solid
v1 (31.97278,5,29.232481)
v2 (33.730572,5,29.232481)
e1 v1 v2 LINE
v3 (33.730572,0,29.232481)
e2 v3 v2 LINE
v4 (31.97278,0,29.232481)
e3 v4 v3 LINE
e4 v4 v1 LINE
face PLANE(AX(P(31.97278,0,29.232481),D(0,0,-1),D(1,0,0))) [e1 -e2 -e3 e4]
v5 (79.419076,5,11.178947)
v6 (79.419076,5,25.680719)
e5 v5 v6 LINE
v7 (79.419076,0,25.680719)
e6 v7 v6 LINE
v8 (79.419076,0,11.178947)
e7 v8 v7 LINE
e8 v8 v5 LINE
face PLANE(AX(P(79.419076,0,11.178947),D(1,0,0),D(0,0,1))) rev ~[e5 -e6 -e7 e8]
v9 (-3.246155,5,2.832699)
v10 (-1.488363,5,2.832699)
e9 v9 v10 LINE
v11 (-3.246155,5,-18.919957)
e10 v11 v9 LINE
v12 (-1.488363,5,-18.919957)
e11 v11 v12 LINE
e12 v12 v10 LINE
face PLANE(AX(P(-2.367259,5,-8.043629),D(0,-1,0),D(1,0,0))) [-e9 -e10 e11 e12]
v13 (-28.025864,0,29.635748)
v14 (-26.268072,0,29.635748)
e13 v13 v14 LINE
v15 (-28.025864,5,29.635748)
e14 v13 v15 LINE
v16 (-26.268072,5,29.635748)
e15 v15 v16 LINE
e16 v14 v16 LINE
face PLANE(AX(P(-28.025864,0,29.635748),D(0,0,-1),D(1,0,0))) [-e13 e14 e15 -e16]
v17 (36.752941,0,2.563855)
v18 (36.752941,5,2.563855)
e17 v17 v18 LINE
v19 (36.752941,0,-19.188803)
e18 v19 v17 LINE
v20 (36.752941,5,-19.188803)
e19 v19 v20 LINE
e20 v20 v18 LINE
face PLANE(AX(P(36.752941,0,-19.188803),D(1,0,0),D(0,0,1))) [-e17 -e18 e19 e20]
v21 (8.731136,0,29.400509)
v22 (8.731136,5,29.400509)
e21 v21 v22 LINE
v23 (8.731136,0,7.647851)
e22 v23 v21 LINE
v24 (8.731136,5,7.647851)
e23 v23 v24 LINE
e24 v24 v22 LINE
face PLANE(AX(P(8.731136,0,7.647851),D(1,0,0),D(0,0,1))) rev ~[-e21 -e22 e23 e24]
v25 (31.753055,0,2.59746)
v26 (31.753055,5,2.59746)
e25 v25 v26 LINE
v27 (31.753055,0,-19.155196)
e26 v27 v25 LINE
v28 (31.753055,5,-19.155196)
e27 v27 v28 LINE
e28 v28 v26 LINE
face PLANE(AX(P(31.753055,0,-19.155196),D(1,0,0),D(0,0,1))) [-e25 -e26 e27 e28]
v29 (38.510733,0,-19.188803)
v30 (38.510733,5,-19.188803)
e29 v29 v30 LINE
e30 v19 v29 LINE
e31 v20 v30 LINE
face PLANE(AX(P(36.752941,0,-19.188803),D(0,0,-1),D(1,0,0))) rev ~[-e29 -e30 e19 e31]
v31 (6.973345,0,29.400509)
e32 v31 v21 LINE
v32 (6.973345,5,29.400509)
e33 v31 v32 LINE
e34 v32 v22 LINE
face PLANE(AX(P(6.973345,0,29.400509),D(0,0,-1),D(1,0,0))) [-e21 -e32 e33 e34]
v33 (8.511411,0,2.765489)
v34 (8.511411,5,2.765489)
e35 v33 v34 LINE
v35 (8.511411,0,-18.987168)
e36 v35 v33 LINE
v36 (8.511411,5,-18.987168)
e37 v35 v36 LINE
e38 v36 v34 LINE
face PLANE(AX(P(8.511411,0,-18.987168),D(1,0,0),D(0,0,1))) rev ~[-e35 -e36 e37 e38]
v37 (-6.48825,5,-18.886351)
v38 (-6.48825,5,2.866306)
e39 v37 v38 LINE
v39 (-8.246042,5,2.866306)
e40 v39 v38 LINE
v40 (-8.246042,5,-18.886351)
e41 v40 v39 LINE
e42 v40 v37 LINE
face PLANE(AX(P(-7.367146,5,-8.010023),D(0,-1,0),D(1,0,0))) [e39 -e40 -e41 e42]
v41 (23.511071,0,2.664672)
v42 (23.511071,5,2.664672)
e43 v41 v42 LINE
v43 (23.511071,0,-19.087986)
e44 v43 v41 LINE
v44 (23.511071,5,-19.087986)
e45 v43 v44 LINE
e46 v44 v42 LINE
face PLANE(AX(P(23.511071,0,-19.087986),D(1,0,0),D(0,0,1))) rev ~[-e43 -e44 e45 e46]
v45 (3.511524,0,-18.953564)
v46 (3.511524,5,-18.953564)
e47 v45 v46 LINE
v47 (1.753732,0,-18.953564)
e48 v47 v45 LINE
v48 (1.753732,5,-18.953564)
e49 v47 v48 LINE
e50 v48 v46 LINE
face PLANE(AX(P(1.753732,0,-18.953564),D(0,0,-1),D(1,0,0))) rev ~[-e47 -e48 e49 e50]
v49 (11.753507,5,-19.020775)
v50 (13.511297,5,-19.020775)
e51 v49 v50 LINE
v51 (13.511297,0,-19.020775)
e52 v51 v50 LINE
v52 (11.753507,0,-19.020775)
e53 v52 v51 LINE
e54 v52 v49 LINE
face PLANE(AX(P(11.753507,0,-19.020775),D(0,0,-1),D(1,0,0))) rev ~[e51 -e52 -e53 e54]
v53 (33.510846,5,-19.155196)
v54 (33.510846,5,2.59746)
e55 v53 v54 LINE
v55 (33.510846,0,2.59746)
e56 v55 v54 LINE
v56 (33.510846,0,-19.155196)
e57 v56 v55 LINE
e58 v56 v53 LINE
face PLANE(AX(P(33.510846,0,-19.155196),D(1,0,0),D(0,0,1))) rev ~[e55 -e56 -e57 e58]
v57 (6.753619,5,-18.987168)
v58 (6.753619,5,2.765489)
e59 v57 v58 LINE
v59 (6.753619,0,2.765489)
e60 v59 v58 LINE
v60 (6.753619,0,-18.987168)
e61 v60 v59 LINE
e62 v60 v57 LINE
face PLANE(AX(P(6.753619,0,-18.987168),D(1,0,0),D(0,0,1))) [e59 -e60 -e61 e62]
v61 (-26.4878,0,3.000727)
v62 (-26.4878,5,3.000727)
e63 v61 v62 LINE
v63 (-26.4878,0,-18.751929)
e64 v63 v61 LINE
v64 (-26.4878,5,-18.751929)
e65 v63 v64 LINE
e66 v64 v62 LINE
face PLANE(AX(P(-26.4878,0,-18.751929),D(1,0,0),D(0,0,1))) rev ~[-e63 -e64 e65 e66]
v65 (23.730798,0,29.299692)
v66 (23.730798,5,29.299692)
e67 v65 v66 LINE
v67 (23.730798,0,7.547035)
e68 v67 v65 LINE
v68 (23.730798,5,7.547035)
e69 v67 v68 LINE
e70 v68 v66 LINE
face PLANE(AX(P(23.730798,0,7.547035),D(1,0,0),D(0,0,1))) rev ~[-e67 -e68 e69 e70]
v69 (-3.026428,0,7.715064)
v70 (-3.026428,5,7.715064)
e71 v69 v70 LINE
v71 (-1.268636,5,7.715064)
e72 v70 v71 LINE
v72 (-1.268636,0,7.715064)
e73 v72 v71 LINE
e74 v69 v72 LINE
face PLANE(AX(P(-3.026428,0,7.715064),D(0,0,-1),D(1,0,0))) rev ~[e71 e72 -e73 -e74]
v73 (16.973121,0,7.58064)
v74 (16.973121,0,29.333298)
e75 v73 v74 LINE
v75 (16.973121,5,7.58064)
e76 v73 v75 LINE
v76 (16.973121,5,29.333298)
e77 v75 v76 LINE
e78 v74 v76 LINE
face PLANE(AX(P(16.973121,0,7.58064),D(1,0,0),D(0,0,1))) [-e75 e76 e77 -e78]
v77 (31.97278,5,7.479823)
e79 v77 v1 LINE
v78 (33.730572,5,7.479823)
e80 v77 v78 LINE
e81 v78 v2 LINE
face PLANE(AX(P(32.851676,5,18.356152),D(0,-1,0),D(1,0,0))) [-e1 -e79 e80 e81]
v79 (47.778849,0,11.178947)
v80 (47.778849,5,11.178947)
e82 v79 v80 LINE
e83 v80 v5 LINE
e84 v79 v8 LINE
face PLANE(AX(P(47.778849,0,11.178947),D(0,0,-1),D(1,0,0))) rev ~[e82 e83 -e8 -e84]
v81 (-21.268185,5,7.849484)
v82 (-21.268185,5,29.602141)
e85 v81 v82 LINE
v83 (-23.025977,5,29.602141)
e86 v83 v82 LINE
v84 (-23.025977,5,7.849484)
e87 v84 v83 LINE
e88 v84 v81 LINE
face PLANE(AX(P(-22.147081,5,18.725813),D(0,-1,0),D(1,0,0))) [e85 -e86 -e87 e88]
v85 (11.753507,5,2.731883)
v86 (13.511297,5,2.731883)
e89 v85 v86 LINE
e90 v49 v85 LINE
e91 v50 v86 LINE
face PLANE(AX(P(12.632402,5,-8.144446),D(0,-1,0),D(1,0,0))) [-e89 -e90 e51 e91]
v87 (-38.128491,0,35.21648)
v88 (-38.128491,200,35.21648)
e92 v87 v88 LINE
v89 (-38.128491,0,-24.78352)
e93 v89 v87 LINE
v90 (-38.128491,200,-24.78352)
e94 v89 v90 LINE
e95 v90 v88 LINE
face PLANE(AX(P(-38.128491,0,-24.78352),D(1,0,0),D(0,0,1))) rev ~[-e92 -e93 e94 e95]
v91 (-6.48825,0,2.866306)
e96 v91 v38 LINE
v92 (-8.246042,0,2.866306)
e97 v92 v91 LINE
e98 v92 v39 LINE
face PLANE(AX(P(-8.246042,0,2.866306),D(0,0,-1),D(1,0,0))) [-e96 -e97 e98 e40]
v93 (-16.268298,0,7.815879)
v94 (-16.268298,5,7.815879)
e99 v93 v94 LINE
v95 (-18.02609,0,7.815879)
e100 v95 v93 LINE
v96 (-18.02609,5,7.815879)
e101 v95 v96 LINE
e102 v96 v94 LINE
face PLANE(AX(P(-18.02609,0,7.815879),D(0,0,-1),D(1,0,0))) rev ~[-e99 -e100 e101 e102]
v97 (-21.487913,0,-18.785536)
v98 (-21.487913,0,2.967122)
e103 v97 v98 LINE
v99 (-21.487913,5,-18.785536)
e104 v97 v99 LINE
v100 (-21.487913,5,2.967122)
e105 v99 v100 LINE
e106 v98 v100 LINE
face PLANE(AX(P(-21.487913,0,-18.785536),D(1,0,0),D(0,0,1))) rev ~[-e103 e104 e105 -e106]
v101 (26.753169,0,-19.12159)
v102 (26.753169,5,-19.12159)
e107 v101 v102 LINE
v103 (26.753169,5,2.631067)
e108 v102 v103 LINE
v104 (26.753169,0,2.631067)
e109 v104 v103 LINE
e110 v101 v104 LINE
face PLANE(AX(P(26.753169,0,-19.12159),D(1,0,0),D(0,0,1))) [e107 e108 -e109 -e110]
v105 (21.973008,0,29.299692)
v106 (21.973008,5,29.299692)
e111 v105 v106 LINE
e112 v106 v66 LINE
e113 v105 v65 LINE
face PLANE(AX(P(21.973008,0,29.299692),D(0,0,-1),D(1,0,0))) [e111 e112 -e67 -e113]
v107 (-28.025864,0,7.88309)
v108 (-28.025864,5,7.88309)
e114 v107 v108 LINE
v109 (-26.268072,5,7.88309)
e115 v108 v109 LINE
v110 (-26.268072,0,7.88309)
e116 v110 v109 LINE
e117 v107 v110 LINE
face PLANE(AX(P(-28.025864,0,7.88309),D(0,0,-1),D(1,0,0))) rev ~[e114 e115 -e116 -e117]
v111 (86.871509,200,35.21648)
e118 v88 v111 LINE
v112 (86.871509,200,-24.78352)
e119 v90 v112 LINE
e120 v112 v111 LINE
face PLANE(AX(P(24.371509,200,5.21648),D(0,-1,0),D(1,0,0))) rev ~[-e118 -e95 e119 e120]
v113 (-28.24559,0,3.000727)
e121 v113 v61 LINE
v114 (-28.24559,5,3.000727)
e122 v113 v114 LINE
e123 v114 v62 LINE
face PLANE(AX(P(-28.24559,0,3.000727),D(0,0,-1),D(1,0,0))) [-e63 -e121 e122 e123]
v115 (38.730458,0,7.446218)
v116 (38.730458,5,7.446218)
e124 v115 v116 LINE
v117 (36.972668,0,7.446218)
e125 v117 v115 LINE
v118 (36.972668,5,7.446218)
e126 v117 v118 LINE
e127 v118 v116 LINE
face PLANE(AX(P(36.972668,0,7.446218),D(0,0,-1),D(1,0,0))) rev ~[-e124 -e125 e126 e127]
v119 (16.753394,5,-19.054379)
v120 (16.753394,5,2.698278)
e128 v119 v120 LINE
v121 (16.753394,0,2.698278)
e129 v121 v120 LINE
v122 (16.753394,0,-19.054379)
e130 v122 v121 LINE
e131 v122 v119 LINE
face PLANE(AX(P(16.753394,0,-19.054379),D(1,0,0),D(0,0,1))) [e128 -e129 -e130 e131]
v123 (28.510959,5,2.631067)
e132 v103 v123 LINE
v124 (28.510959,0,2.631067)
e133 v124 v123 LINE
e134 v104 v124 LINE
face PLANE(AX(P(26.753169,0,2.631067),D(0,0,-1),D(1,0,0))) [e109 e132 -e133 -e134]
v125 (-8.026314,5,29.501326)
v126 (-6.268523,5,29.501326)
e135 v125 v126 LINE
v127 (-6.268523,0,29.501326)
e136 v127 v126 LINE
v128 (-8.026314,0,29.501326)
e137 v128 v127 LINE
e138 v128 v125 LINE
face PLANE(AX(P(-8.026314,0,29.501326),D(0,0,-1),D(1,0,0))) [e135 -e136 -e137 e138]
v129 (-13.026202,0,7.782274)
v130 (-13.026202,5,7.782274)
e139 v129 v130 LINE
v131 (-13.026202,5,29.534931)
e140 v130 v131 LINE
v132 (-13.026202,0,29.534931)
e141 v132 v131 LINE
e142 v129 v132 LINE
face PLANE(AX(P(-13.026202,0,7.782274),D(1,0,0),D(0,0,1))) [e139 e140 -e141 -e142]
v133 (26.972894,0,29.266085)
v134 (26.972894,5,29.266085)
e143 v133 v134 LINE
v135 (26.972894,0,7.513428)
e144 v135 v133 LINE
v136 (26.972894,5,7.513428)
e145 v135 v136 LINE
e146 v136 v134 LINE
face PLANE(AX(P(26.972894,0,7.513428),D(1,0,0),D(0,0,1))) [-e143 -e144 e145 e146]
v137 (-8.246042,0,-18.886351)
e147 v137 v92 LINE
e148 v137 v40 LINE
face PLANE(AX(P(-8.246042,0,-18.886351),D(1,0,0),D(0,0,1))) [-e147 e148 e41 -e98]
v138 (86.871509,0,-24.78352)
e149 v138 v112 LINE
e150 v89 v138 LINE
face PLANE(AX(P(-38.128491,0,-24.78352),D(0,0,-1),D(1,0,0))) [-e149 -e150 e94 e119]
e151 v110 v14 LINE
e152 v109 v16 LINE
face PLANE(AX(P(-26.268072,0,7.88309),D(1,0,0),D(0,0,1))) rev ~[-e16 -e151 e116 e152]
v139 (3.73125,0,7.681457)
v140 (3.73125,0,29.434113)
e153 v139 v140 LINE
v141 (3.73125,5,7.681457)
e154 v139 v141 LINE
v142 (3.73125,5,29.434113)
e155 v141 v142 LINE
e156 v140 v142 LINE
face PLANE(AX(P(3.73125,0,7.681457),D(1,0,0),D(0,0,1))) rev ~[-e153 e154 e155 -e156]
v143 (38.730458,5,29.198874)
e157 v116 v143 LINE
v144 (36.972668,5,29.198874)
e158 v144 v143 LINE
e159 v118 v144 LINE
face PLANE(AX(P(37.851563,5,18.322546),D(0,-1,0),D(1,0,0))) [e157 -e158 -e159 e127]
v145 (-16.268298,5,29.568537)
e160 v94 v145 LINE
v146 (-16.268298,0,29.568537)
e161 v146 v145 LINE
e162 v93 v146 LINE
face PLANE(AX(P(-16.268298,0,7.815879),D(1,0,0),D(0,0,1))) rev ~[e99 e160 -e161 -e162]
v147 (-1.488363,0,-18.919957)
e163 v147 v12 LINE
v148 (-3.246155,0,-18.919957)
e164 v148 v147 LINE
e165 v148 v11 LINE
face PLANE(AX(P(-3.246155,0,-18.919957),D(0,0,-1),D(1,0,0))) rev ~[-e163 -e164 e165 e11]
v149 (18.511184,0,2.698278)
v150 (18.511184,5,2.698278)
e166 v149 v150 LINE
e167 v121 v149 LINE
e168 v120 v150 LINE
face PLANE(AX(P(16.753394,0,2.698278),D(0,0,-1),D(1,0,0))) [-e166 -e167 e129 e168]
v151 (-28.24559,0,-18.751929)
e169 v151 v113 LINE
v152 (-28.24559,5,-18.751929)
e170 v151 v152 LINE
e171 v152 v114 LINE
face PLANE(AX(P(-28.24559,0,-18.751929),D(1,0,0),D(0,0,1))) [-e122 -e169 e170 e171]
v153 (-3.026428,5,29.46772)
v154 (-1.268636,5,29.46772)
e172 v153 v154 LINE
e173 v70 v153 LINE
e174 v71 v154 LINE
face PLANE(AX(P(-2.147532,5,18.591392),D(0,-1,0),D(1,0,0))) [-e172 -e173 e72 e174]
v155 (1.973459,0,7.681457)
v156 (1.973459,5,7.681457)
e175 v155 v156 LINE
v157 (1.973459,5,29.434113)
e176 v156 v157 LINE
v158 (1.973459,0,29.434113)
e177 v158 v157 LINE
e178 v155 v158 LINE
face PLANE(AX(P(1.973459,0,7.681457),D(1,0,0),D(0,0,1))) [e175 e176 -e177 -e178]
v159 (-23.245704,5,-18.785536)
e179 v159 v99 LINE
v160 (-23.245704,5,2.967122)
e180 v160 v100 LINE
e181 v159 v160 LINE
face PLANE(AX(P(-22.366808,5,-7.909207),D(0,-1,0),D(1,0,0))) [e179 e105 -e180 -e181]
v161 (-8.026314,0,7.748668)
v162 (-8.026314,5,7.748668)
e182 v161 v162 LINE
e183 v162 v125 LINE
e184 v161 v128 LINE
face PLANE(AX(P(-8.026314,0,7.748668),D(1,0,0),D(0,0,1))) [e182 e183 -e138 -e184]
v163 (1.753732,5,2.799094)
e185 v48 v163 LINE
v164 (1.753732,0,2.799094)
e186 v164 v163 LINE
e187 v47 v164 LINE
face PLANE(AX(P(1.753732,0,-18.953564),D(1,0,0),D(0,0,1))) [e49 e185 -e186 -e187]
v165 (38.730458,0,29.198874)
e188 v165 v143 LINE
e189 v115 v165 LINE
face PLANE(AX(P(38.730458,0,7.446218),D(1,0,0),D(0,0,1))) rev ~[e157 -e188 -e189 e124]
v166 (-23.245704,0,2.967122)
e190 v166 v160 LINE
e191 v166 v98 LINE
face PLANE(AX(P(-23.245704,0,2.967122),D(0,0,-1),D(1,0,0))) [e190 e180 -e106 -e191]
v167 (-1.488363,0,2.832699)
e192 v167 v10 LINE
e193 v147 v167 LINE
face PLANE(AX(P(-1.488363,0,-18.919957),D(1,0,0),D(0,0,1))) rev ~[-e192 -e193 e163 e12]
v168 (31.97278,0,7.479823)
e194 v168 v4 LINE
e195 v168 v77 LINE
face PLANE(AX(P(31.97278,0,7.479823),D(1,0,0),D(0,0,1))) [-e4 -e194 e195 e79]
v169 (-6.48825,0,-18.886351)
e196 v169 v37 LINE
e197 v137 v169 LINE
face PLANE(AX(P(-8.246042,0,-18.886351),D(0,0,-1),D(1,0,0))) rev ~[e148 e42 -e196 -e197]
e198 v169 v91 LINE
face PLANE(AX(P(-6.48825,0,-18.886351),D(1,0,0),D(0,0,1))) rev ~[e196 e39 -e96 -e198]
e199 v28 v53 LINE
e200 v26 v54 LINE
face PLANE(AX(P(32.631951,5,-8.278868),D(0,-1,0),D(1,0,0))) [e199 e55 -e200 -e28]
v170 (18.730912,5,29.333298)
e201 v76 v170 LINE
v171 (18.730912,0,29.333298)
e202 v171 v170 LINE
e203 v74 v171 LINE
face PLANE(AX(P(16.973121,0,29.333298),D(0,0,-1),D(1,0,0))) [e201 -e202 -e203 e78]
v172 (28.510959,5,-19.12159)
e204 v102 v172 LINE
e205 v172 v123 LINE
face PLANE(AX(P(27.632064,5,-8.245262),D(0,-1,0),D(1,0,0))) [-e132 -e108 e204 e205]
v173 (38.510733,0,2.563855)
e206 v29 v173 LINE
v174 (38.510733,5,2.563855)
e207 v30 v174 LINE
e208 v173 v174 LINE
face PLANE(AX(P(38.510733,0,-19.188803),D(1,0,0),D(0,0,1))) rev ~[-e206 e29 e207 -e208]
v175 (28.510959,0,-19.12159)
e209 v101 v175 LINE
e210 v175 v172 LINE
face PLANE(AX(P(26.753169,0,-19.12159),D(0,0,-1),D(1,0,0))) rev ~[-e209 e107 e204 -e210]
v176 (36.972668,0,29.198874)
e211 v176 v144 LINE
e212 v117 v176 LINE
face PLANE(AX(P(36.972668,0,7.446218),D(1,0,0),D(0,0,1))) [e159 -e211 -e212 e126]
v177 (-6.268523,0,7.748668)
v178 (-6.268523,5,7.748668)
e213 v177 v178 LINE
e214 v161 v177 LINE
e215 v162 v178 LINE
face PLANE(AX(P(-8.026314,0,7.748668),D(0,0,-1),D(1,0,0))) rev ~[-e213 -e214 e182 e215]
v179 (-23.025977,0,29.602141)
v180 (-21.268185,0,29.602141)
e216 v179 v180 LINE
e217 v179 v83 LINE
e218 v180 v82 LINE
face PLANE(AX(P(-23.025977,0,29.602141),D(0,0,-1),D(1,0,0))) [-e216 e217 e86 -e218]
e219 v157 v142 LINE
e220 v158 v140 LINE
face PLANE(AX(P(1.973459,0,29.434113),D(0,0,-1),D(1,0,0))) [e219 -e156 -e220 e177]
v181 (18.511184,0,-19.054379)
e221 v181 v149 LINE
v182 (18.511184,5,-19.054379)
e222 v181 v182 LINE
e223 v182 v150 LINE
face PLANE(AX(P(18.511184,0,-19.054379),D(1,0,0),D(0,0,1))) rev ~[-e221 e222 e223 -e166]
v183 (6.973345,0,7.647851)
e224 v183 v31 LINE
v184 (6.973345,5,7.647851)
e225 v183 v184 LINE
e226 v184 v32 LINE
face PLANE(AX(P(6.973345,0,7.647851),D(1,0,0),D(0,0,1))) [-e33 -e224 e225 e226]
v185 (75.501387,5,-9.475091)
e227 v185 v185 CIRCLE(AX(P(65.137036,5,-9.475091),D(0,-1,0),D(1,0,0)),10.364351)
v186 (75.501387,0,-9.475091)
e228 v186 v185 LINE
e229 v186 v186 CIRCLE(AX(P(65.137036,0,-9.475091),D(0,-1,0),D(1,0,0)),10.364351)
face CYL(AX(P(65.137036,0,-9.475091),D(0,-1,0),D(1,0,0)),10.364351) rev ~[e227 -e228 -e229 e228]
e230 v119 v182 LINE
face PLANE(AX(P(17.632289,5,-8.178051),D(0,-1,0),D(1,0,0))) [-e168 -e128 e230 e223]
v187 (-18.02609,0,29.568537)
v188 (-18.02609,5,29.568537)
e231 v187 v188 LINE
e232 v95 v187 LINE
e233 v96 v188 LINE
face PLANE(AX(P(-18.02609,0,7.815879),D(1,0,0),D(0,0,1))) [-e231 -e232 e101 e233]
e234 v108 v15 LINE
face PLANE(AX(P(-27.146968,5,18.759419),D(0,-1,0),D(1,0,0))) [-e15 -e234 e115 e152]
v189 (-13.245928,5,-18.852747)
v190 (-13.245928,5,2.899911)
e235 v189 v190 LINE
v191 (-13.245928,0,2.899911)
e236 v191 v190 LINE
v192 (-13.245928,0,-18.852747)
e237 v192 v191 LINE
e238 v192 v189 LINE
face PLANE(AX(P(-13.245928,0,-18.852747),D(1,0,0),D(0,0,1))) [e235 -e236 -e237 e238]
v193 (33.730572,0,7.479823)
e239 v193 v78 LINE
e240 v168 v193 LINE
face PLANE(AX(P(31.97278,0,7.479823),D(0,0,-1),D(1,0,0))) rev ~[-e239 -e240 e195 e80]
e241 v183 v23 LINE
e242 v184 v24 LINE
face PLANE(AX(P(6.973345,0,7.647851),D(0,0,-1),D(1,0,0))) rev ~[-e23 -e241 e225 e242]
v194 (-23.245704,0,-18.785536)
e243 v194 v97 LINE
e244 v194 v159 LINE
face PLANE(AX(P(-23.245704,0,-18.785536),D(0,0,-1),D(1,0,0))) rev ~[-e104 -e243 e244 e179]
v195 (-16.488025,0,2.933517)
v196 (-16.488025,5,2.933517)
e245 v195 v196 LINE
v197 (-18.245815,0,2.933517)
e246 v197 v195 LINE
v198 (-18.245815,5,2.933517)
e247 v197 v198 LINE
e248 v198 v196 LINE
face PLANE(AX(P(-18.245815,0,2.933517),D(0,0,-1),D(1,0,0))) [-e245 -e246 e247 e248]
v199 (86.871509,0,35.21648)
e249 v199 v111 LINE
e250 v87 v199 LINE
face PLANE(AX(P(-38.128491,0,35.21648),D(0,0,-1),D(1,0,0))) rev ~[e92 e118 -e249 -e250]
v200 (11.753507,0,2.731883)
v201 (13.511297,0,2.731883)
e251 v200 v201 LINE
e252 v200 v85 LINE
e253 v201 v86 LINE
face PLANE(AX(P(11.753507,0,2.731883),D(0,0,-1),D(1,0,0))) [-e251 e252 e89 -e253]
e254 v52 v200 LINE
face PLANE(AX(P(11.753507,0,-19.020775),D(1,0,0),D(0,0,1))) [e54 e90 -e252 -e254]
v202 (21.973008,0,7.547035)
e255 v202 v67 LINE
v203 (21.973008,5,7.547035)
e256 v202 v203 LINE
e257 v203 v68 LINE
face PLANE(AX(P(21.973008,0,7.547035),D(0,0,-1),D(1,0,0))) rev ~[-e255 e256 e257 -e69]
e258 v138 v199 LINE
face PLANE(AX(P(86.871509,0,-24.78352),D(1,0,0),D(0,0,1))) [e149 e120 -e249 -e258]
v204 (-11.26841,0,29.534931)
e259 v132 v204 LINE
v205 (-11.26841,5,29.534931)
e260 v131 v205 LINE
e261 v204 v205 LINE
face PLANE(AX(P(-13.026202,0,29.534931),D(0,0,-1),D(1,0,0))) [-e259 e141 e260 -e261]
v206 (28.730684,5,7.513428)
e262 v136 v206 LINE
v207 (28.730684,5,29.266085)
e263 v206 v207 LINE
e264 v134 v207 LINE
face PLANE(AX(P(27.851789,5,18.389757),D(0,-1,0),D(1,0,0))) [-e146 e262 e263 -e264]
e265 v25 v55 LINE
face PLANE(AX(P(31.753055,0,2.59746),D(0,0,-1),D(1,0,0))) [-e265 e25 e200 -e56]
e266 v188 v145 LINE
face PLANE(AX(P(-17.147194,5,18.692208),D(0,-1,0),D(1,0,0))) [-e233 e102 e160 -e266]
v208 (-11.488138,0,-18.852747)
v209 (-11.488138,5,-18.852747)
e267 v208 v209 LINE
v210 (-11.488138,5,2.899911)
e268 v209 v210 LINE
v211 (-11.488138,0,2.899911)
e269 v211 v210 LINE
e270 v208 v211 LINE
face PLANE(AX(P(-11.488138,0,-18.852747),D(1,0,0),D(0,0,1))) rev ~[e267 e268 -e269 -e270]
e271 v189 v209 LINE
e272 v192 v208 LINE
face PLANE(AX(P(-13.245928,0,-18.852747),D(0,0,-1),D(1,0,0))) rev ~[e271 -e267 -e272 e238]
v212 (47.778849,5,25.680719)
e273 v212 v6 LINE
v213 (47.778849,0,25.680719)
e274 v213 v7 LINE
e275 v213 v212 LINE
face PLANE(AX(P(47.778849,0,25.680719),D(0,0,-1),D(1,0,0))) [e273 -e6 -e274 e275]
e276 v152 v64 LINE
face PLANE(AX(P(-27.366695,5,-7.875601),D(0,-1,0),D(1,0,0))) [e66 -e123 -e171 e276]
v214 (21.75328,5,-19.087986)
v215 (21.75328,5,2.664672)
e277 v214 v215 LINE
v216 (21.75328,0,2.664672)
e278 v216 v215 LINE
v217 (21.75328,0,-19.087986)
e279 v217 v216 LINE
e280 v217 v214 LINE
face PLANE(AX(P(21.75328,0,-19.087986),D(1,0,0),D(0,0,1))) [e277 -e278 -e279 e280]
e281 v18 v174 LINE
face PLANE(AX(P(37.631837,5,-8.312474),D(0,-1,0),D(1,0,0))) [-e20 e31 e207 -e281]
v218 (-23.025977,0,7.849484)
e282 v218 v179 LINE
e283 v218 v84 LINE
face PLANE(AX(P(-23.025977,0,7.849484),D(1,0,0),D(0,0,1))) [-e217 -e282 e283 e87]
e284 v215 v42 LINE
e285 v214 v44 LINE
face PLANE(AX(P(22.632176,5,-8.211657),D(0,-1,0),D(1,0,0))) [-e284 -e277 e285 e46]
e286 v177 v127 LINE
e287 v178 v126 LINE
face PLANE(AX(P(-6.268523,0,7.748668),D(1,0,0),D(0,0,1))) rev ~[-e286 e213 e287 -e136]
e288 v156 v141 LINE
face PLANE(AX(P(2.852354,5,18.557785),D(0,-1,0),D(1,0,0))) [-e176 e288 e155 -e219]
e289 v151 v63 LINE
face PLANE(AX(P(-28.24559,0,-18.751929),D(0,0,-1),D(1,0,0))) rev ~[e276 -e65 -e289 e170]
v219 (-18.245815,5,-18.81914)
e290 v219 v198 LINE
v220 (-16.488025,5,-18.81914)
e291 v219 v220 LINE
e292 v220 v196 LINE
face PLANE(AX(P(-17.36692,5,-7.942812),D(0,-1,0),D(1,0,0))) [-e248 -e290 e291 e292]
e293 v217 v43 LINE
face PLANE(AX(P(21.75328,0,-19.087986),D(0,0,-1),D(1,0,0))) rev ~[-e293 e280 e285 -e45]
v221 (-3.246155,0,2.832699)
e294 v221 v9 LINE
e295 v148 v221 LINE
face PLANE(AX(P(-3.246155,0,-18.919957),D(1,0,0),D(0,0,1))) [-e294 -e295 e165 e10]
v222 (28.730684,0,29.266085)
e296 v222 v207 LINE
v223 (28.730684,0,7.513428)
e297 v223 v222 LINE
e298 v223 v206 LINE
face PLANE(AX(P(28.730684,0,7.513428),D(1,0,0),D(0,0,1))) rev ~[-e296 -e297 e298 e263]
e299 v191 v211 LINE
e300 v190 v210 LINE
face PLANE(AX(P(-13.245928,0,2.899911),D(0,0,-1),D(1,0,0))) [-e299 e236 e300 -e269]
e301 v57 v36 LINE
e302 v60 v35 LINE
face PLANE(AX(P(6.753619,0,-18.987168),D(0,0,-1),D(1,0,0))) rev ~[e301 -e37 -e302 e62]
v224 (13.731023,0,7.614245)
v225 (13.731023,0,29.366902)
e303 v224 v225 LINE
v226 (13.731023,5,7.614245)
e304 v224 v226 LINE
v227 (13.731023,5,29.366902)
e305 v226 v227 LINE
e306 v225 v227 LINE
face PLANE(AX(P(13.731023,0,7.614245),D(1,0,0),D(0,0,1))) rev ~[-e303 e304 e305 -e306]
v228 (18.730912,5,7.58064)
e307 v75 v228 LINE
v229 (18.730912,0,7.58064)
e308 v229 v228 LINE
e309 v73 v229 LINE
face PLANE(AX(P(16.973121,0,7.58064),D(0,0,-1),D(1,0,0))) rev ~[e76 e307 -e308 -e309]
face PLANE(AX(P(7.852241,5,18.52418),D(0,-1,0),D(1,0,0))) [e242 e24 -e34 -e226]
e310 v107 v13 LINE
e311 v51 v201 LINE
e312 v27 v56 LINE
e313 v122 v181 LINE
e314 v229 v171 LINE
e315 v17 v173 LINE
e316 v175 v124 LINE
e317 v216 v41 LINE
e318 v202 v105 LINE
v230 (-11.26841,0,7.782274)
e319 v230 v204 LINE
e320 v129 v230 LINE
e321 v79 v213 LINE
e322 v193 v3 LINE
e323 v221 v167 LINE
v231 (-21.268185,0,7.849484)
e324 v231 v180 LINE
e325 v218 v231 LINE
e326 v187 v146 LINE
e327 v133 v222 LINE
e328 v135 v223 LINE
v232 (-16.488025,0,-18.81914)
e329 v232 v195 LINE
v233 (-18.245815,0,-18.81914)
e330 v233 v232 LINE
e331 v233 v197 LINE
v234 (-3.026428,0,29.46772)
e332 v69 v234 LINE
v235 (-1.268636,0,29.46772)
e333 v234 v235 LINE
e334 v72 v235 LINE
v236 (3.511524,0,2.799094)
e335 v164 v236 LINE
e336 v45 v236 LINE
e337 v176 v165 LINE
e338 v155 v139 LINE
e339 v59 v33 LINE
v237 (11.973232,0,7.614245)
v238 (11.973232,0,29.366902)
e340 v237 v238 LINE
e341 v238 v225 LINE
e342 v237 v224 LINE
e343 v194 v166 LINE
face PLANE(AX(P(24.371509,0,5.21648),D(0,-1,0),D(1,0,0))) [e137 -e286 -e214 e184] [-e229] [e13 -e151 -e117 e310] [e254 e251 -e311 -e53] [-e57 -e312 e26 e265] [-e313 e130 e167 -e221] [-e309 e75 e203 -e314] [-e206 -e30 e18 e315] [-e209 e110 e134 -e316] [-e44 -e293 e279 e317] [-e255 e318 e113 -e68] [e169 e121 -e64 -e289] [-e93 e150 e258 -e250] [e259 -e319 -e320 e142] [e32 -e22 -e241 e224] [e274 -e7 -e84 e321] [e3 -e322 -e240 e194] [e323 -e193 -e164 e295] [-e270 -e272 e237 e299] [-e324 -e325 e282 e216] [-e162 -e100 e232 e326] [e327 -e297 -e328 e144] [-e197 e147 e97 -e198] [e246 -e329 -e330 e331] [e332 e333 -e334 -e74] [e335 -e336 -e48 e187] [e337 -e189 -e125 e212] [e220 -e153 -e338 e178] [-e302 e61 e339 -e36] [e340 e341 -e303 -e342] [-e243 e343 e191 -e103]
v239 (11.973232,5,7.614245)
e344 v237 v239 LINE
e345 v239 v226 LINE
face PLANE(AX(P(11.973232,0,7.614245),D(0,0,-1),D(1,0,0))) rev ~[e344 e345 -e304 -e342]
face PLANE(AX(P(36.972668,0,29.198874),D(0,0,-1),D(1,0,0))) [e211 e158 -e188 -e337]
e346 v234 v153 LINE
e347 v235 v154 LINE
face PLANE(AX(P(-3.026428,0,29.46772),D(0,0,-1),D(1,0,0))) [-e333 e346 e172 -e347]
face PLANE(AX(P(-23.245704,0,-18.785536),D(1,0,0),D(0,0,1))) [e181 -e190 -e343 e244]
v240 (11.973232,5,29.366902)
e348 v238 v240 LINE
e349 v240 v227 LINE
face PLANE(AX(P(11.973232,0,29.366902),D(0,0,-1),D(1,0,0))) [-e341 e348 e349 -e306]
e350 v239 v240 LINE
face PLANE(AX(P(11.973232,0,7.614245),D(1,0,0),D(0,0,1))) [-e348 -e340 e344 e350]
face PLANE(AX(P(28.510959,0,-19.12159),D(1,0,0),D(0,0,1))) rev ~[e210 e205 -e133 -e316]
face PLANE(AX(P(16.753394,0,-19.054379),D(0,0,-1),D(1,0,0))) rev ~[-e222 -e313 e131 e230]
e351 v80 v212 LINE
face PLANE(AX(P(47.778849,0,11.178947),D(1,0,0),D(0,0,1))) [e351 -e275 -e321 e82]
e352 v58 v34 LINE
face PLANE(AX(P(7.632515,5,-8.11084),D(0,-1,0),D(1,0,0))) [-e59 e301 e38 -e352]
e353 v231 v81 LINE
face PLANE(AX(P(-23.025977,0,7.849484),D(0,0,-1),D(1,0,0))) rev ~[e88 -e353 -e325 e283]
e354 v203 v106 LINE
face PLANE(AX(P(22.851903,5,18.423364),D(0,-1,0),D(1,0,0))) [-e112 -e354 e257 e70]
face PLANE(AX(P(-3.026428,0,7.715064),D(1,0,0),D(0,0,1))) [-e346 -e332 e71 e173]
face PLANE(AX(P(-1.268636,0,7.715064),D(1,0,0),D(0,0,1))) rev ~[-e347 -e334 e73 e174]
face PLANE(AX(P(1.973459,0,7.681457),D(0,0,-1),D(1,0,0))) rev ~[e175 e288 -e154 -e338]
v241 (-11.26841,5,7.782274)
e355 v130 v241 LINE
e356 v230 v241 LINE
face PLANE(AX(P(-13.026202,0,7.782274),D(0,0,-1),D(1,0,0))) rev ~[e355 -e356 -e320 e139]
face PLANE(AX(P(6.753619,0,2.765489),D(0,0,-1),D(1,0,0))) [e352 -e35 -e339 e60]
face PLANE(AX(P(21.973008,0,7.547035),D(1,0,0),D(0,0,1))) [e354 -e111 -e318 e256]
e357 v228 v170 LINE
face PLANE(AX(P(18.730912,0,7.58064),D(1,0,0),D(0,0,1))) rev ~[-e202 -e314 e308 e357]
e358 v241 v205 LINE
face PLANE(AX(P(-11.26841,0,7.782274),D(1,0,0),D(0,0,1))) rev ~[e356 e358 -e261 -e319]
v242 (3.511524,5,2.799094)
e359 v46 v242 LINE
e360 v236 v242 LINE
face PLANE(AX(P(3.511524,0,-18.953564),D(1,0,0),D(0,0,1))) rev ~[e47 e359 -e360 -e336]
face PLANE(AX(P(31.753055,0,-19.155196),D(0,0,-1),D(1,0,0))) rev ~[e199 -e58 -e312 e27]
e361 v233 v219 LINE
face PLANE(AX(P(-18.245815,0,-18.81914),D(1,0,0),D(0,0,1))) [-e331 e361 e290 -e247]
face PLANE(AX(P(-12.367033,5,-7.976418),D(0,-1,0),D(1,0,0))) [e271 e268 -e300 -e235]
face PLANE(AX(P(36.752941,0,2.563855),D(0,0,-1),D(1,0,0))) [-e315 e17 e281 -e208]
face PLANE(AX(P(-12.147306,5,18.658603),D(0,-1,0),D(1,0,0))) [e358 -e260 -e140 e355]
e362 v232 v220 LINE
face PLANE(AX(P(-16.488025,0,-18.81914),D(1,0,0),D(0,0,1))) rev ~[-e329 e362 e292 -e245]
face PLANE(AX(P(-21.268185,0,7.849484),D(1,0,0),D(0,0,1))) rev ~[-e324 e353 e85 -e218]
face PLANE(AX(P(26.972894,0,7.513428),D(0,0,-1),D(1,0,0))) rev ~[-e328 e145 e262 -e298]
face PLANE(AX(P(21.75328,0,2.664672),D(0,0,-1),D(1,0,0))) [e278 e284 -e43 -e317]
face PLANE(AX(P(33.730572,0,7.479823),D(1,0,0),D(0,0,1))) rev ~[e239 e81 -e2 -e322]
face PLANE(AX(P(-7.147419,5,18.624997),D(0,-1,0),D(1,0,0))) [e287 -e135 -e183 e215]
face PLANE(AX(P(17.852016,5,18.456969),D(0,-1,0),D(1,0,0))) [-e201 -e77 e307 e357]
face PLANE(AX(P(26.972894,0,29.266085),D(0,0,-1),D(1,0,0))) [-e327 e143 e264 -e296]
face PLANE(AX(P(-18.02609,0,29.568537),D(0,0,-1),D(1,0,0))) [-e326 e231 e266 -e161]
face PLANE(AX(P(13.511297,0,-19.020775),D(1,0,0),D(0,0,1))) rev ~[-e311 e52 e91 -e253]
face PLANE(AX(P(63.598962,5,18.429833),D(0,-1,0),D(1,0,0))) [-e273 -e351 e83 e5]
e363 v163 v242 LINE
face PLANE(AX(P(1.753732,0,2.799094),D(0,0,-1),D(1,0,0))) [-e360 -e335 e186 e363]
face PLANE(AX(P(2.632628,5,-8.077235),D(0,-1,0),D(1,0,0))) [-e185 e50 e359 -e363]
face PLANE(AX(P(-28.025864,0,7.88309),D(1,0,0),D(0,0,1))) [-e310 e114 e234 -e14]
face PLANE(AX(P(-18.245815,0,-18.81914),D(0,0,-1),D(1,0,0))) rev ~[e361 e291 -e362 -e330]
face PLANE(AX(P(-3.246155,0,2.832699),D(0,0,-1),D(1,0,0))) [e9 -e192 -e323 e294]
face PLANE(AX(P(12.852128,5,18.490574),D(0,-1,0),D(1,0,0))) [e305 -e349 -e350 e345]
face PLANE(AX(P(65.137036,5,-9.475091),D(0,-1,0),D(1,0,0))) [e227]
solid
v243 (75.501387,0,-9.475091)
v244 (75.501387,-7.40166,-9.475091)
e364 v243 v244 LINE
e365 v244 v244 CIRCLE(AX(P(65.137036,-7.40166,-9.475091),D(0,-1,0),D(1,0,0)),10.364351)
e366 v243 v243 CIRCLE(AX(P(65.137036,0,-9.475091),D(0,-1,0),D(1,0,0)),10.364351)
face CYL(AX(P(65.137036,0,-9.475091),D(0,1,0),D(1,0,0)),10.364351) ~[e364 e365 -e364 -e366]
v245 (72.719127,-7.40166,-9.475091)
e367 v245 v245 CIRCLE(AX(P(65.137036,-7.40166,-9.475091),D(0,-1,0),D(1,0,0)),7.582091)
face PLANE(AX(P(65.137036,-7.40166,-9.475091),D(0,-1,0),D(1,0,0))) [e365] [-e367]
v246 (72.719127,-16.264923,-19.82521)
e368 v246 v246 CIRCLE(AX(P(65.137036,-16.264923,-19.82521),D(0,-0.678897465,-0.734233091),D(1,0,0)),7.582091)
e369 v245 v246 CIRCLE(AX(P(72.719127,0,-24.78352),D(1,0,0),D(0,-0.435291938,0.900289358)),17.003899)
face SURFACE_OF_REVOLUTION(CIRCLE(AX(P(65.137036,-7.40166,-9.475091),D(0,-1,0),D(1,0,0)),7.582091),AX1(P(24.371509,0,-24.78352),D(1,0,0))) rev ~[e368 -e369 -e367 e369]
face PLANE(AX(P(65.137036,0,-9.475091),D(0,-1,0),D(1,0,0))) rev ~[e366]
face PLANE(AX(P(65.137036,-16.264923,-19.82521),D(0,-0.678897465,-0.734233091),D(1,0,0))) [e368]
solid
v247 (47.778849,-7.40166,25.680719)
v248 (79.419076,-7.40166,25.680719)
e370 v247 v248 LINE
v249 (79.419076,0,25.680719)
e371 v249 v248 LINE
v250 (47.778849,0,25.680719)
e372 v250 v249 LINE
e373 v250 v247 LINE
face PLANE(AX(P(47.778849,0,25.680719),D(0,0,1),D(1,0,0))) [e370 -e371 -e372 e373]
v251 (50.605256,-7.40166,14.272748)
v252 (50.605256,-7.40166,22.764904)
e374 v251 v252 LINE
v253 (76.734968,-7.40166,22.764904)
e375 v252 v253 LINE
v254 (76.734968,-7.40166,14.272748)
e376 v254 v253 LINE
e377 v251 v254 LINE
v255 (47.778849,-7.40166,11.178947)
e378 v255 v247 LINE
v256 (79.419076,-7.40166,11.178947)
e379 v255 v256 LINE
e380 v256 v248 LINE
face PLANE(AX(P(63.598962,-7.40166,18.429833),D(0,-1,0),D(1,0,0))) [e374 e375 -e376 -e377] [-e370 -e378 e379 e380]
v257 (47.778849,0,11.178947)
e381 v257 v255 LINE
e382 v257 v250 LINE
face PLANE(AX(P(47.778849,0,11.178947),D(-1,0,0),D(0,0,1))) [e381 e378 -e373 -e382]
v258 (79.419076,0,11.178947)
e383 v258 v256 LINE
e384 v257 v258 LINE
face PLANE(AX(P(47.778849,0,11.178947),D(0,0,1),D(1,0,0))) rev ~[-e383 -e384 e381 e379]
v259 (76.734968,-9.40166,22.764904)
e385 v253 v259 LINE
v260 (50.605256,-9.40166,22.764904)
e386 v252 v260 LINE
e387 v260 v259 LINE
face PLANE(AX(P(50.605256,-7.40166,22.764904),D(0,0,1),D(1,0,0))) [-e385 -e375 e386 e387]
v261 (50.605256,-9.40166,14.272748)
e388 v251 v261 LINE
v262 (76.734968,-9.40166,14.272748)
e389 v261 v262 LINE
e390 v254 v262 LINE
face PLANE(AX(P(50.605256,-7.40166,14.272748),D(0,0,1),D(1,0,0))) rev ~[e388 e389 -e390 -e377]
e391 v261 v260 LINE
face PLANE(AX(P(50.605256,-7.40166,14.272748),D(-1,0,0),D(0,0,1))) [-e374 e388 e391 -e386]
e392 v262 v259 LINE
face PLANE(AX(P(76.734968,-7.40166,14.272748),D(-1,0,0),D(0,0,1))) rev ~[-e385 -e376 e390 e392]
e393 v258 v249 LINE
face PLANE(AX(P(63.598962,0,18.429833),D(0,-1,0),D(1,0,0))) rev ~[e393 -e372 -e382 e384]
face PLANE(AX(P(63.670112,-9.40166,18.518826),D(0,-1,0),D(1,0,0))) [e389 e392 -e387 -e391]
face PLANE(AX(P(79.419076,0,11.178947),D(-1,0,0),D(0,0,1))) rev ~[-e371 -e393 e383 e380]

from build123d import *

# Parameters (mm, degrees)
F0_W     = 125
F0_H     = 60
F1_DEPTH = 200
F2_W     = 31.640227
F2_H     = 14.501772
F2_R     = 10.364351
F3_DEPTH = 7.40166
F2_W_2   = 1.757792
F2_H_2   = 21.752657
F2_W_3   = 1.757791
F2_H_3   = 21.752658
F4_DEPTH = 5
F5_W     = 26.129712
F5_H     = 8.492156
F6_DEPTH = 2
F7_R     = 7.582091
F8_ANGLE = 47.242453


with BuildPart() as f1:
    # F0 (on Front) → F1 (new body)
    with BuildSketch(Plane.XZ):
        with Locations((24.371509, 5.21648)):
            Rectangle(F0_W, F0_H)
    extrude(amount=-F1_DEPTH)

    # F2 (on face) → F3 (join)
    with BuildSketch(Plane.XZ):
        with Locations((63.598962, 18.429833)):
            Rectangle(F2_W, F2_H)
        with Locations((65.137036, -9.475091)):
            Circle(F2_R)
    extrude(amount=F3_DEPTH)

    # F2 (on face) → F4 (cut)
    with BuildSketch(Plane.XZ):
        with Locations((63.598962, 18.429833)):
            Rectangle(F2_W, F2_H)
        with Locations((65.137036, -9.475091)):
            Circle(F2_R)
        with Locations((-27.146968, 18.759419)):
            Rectangle(F2_W_2, F2_H_2)
        with Locations((-27.366695, -7.875601)):
            Rectangle(F2_W_3, F2_H_2)
        with Locations((-22.147081, 18.725813)):
            Rectangle(F2_W_2, F2_H_2)
        with Locations((-22.366808, -7.909207)):
            Rectangle(F2_W_3, F2_H_3)
        with Locations((-17.147194, 18.692208)):
            Rectangle(F2_W_2, F2_H_3)
        with Locations((-17.36692, -7.942812)):
            Rectangle(F2_W_3, F2_H_2)
        with Locations((-12.147306, 18.658603)):
            Rectangle(F2_W_3, F2_H_2)
        with Locations((-12.367033, -7.976418)):
            Rectangle(F2_W_3, F2_H_3)
        with Locations((-7.147419, 18.624997)):
            Rectangle(F2_W_3, F2_H_3)
        with Locations((-7.367146, -8.010023)):
            Rectangle(F2_W_2, F2_H_2)
        with Locations((-2.147532, 18.591392)):
            Rectangle(F2_W_3, F2_H_2)
        with Locations((-2.367259, -8.043629)):
            Rectangle(F2_W_2, F2_H_2)
        with Locations((2.852354, 18.557785)):
            Rectangle(F2_W_3, F2_H_2)
        with Locations((2.632628, -8.077235)):
            Rectangle(F2_W_2, F2_H_3)
        with Locations((7.852241, 18.52418)):
            Rectangle(F2_W_3, F2_H_3)
        with Locations((7.632515, -8.11084)):
            Rectangle(F2_W_2, F2_H_2)
        with Locations((12.852128, 18.490574)):
            Rectangle(F2_W_3, F2_H_2)
        with Locations((12.632402, -8.144446)):
            Rectangle(F2_W_3, F2_H_3)
        with Locations((17.852016, 18.456969)):
            Rectangle(F2_W_3, F2_H_3)
        with Locations((17.632289, -8.178051)):
            Rectangle(F2_W_3, F2_H_2)
        with Locations((22.851903, 18.423364)):
            Rectangle(F2_W_3, F2_H_2)
        with Locations((22.632176, -8.211657)):
            Rectangle(F2_W_3, F2_H_3)
        with Locations((27.851789, 18.389757)):
            Rectangle(F2_W_3, F2_H_2)
        with Locations((27.632064, -8.245262)):
            Rectangle(F2_W_3, F2_H_2)
        with Locations((32.851676, 18.356152)):
            Rectangle(F2_W_3, F2_H_3)
        with Locations((32.631951, -8.278868)):
            Rectangle(F2_W_3, F2_H_2)
        with Locations((37.851563, 18.322546)):
            Rectangle(F2_W_3, F2_H_2)
        with Locations((37.631837, -8.312474)):
            Rectangle(F2_W_3, F2_H_3)
    extrude(amount=-F4_DEPTH, mode=Mode.SUBTRACT)

    # F5 (on face) → F6 (join)
    with BuildSketch(Plane.XZ.offset(7.40166)):
        with Locations((63.670112, 18.518826)):
            Rectangle(F5_W, F5_H)
    extrude(amount=F6_DEPTH)

    # F7 (on face) → F8 (revolve)
    with BuildSketch(Plane.XZ.offset(7.40166)):
        with Locations((65.137036, -9.475091)):
            Circle(F7_R)
    revolve(axis=Axis((24.371509, 0, -24.78352), (1, 0, 0)), revolution_arc=F8_ANGLE)


solid = f1.part
